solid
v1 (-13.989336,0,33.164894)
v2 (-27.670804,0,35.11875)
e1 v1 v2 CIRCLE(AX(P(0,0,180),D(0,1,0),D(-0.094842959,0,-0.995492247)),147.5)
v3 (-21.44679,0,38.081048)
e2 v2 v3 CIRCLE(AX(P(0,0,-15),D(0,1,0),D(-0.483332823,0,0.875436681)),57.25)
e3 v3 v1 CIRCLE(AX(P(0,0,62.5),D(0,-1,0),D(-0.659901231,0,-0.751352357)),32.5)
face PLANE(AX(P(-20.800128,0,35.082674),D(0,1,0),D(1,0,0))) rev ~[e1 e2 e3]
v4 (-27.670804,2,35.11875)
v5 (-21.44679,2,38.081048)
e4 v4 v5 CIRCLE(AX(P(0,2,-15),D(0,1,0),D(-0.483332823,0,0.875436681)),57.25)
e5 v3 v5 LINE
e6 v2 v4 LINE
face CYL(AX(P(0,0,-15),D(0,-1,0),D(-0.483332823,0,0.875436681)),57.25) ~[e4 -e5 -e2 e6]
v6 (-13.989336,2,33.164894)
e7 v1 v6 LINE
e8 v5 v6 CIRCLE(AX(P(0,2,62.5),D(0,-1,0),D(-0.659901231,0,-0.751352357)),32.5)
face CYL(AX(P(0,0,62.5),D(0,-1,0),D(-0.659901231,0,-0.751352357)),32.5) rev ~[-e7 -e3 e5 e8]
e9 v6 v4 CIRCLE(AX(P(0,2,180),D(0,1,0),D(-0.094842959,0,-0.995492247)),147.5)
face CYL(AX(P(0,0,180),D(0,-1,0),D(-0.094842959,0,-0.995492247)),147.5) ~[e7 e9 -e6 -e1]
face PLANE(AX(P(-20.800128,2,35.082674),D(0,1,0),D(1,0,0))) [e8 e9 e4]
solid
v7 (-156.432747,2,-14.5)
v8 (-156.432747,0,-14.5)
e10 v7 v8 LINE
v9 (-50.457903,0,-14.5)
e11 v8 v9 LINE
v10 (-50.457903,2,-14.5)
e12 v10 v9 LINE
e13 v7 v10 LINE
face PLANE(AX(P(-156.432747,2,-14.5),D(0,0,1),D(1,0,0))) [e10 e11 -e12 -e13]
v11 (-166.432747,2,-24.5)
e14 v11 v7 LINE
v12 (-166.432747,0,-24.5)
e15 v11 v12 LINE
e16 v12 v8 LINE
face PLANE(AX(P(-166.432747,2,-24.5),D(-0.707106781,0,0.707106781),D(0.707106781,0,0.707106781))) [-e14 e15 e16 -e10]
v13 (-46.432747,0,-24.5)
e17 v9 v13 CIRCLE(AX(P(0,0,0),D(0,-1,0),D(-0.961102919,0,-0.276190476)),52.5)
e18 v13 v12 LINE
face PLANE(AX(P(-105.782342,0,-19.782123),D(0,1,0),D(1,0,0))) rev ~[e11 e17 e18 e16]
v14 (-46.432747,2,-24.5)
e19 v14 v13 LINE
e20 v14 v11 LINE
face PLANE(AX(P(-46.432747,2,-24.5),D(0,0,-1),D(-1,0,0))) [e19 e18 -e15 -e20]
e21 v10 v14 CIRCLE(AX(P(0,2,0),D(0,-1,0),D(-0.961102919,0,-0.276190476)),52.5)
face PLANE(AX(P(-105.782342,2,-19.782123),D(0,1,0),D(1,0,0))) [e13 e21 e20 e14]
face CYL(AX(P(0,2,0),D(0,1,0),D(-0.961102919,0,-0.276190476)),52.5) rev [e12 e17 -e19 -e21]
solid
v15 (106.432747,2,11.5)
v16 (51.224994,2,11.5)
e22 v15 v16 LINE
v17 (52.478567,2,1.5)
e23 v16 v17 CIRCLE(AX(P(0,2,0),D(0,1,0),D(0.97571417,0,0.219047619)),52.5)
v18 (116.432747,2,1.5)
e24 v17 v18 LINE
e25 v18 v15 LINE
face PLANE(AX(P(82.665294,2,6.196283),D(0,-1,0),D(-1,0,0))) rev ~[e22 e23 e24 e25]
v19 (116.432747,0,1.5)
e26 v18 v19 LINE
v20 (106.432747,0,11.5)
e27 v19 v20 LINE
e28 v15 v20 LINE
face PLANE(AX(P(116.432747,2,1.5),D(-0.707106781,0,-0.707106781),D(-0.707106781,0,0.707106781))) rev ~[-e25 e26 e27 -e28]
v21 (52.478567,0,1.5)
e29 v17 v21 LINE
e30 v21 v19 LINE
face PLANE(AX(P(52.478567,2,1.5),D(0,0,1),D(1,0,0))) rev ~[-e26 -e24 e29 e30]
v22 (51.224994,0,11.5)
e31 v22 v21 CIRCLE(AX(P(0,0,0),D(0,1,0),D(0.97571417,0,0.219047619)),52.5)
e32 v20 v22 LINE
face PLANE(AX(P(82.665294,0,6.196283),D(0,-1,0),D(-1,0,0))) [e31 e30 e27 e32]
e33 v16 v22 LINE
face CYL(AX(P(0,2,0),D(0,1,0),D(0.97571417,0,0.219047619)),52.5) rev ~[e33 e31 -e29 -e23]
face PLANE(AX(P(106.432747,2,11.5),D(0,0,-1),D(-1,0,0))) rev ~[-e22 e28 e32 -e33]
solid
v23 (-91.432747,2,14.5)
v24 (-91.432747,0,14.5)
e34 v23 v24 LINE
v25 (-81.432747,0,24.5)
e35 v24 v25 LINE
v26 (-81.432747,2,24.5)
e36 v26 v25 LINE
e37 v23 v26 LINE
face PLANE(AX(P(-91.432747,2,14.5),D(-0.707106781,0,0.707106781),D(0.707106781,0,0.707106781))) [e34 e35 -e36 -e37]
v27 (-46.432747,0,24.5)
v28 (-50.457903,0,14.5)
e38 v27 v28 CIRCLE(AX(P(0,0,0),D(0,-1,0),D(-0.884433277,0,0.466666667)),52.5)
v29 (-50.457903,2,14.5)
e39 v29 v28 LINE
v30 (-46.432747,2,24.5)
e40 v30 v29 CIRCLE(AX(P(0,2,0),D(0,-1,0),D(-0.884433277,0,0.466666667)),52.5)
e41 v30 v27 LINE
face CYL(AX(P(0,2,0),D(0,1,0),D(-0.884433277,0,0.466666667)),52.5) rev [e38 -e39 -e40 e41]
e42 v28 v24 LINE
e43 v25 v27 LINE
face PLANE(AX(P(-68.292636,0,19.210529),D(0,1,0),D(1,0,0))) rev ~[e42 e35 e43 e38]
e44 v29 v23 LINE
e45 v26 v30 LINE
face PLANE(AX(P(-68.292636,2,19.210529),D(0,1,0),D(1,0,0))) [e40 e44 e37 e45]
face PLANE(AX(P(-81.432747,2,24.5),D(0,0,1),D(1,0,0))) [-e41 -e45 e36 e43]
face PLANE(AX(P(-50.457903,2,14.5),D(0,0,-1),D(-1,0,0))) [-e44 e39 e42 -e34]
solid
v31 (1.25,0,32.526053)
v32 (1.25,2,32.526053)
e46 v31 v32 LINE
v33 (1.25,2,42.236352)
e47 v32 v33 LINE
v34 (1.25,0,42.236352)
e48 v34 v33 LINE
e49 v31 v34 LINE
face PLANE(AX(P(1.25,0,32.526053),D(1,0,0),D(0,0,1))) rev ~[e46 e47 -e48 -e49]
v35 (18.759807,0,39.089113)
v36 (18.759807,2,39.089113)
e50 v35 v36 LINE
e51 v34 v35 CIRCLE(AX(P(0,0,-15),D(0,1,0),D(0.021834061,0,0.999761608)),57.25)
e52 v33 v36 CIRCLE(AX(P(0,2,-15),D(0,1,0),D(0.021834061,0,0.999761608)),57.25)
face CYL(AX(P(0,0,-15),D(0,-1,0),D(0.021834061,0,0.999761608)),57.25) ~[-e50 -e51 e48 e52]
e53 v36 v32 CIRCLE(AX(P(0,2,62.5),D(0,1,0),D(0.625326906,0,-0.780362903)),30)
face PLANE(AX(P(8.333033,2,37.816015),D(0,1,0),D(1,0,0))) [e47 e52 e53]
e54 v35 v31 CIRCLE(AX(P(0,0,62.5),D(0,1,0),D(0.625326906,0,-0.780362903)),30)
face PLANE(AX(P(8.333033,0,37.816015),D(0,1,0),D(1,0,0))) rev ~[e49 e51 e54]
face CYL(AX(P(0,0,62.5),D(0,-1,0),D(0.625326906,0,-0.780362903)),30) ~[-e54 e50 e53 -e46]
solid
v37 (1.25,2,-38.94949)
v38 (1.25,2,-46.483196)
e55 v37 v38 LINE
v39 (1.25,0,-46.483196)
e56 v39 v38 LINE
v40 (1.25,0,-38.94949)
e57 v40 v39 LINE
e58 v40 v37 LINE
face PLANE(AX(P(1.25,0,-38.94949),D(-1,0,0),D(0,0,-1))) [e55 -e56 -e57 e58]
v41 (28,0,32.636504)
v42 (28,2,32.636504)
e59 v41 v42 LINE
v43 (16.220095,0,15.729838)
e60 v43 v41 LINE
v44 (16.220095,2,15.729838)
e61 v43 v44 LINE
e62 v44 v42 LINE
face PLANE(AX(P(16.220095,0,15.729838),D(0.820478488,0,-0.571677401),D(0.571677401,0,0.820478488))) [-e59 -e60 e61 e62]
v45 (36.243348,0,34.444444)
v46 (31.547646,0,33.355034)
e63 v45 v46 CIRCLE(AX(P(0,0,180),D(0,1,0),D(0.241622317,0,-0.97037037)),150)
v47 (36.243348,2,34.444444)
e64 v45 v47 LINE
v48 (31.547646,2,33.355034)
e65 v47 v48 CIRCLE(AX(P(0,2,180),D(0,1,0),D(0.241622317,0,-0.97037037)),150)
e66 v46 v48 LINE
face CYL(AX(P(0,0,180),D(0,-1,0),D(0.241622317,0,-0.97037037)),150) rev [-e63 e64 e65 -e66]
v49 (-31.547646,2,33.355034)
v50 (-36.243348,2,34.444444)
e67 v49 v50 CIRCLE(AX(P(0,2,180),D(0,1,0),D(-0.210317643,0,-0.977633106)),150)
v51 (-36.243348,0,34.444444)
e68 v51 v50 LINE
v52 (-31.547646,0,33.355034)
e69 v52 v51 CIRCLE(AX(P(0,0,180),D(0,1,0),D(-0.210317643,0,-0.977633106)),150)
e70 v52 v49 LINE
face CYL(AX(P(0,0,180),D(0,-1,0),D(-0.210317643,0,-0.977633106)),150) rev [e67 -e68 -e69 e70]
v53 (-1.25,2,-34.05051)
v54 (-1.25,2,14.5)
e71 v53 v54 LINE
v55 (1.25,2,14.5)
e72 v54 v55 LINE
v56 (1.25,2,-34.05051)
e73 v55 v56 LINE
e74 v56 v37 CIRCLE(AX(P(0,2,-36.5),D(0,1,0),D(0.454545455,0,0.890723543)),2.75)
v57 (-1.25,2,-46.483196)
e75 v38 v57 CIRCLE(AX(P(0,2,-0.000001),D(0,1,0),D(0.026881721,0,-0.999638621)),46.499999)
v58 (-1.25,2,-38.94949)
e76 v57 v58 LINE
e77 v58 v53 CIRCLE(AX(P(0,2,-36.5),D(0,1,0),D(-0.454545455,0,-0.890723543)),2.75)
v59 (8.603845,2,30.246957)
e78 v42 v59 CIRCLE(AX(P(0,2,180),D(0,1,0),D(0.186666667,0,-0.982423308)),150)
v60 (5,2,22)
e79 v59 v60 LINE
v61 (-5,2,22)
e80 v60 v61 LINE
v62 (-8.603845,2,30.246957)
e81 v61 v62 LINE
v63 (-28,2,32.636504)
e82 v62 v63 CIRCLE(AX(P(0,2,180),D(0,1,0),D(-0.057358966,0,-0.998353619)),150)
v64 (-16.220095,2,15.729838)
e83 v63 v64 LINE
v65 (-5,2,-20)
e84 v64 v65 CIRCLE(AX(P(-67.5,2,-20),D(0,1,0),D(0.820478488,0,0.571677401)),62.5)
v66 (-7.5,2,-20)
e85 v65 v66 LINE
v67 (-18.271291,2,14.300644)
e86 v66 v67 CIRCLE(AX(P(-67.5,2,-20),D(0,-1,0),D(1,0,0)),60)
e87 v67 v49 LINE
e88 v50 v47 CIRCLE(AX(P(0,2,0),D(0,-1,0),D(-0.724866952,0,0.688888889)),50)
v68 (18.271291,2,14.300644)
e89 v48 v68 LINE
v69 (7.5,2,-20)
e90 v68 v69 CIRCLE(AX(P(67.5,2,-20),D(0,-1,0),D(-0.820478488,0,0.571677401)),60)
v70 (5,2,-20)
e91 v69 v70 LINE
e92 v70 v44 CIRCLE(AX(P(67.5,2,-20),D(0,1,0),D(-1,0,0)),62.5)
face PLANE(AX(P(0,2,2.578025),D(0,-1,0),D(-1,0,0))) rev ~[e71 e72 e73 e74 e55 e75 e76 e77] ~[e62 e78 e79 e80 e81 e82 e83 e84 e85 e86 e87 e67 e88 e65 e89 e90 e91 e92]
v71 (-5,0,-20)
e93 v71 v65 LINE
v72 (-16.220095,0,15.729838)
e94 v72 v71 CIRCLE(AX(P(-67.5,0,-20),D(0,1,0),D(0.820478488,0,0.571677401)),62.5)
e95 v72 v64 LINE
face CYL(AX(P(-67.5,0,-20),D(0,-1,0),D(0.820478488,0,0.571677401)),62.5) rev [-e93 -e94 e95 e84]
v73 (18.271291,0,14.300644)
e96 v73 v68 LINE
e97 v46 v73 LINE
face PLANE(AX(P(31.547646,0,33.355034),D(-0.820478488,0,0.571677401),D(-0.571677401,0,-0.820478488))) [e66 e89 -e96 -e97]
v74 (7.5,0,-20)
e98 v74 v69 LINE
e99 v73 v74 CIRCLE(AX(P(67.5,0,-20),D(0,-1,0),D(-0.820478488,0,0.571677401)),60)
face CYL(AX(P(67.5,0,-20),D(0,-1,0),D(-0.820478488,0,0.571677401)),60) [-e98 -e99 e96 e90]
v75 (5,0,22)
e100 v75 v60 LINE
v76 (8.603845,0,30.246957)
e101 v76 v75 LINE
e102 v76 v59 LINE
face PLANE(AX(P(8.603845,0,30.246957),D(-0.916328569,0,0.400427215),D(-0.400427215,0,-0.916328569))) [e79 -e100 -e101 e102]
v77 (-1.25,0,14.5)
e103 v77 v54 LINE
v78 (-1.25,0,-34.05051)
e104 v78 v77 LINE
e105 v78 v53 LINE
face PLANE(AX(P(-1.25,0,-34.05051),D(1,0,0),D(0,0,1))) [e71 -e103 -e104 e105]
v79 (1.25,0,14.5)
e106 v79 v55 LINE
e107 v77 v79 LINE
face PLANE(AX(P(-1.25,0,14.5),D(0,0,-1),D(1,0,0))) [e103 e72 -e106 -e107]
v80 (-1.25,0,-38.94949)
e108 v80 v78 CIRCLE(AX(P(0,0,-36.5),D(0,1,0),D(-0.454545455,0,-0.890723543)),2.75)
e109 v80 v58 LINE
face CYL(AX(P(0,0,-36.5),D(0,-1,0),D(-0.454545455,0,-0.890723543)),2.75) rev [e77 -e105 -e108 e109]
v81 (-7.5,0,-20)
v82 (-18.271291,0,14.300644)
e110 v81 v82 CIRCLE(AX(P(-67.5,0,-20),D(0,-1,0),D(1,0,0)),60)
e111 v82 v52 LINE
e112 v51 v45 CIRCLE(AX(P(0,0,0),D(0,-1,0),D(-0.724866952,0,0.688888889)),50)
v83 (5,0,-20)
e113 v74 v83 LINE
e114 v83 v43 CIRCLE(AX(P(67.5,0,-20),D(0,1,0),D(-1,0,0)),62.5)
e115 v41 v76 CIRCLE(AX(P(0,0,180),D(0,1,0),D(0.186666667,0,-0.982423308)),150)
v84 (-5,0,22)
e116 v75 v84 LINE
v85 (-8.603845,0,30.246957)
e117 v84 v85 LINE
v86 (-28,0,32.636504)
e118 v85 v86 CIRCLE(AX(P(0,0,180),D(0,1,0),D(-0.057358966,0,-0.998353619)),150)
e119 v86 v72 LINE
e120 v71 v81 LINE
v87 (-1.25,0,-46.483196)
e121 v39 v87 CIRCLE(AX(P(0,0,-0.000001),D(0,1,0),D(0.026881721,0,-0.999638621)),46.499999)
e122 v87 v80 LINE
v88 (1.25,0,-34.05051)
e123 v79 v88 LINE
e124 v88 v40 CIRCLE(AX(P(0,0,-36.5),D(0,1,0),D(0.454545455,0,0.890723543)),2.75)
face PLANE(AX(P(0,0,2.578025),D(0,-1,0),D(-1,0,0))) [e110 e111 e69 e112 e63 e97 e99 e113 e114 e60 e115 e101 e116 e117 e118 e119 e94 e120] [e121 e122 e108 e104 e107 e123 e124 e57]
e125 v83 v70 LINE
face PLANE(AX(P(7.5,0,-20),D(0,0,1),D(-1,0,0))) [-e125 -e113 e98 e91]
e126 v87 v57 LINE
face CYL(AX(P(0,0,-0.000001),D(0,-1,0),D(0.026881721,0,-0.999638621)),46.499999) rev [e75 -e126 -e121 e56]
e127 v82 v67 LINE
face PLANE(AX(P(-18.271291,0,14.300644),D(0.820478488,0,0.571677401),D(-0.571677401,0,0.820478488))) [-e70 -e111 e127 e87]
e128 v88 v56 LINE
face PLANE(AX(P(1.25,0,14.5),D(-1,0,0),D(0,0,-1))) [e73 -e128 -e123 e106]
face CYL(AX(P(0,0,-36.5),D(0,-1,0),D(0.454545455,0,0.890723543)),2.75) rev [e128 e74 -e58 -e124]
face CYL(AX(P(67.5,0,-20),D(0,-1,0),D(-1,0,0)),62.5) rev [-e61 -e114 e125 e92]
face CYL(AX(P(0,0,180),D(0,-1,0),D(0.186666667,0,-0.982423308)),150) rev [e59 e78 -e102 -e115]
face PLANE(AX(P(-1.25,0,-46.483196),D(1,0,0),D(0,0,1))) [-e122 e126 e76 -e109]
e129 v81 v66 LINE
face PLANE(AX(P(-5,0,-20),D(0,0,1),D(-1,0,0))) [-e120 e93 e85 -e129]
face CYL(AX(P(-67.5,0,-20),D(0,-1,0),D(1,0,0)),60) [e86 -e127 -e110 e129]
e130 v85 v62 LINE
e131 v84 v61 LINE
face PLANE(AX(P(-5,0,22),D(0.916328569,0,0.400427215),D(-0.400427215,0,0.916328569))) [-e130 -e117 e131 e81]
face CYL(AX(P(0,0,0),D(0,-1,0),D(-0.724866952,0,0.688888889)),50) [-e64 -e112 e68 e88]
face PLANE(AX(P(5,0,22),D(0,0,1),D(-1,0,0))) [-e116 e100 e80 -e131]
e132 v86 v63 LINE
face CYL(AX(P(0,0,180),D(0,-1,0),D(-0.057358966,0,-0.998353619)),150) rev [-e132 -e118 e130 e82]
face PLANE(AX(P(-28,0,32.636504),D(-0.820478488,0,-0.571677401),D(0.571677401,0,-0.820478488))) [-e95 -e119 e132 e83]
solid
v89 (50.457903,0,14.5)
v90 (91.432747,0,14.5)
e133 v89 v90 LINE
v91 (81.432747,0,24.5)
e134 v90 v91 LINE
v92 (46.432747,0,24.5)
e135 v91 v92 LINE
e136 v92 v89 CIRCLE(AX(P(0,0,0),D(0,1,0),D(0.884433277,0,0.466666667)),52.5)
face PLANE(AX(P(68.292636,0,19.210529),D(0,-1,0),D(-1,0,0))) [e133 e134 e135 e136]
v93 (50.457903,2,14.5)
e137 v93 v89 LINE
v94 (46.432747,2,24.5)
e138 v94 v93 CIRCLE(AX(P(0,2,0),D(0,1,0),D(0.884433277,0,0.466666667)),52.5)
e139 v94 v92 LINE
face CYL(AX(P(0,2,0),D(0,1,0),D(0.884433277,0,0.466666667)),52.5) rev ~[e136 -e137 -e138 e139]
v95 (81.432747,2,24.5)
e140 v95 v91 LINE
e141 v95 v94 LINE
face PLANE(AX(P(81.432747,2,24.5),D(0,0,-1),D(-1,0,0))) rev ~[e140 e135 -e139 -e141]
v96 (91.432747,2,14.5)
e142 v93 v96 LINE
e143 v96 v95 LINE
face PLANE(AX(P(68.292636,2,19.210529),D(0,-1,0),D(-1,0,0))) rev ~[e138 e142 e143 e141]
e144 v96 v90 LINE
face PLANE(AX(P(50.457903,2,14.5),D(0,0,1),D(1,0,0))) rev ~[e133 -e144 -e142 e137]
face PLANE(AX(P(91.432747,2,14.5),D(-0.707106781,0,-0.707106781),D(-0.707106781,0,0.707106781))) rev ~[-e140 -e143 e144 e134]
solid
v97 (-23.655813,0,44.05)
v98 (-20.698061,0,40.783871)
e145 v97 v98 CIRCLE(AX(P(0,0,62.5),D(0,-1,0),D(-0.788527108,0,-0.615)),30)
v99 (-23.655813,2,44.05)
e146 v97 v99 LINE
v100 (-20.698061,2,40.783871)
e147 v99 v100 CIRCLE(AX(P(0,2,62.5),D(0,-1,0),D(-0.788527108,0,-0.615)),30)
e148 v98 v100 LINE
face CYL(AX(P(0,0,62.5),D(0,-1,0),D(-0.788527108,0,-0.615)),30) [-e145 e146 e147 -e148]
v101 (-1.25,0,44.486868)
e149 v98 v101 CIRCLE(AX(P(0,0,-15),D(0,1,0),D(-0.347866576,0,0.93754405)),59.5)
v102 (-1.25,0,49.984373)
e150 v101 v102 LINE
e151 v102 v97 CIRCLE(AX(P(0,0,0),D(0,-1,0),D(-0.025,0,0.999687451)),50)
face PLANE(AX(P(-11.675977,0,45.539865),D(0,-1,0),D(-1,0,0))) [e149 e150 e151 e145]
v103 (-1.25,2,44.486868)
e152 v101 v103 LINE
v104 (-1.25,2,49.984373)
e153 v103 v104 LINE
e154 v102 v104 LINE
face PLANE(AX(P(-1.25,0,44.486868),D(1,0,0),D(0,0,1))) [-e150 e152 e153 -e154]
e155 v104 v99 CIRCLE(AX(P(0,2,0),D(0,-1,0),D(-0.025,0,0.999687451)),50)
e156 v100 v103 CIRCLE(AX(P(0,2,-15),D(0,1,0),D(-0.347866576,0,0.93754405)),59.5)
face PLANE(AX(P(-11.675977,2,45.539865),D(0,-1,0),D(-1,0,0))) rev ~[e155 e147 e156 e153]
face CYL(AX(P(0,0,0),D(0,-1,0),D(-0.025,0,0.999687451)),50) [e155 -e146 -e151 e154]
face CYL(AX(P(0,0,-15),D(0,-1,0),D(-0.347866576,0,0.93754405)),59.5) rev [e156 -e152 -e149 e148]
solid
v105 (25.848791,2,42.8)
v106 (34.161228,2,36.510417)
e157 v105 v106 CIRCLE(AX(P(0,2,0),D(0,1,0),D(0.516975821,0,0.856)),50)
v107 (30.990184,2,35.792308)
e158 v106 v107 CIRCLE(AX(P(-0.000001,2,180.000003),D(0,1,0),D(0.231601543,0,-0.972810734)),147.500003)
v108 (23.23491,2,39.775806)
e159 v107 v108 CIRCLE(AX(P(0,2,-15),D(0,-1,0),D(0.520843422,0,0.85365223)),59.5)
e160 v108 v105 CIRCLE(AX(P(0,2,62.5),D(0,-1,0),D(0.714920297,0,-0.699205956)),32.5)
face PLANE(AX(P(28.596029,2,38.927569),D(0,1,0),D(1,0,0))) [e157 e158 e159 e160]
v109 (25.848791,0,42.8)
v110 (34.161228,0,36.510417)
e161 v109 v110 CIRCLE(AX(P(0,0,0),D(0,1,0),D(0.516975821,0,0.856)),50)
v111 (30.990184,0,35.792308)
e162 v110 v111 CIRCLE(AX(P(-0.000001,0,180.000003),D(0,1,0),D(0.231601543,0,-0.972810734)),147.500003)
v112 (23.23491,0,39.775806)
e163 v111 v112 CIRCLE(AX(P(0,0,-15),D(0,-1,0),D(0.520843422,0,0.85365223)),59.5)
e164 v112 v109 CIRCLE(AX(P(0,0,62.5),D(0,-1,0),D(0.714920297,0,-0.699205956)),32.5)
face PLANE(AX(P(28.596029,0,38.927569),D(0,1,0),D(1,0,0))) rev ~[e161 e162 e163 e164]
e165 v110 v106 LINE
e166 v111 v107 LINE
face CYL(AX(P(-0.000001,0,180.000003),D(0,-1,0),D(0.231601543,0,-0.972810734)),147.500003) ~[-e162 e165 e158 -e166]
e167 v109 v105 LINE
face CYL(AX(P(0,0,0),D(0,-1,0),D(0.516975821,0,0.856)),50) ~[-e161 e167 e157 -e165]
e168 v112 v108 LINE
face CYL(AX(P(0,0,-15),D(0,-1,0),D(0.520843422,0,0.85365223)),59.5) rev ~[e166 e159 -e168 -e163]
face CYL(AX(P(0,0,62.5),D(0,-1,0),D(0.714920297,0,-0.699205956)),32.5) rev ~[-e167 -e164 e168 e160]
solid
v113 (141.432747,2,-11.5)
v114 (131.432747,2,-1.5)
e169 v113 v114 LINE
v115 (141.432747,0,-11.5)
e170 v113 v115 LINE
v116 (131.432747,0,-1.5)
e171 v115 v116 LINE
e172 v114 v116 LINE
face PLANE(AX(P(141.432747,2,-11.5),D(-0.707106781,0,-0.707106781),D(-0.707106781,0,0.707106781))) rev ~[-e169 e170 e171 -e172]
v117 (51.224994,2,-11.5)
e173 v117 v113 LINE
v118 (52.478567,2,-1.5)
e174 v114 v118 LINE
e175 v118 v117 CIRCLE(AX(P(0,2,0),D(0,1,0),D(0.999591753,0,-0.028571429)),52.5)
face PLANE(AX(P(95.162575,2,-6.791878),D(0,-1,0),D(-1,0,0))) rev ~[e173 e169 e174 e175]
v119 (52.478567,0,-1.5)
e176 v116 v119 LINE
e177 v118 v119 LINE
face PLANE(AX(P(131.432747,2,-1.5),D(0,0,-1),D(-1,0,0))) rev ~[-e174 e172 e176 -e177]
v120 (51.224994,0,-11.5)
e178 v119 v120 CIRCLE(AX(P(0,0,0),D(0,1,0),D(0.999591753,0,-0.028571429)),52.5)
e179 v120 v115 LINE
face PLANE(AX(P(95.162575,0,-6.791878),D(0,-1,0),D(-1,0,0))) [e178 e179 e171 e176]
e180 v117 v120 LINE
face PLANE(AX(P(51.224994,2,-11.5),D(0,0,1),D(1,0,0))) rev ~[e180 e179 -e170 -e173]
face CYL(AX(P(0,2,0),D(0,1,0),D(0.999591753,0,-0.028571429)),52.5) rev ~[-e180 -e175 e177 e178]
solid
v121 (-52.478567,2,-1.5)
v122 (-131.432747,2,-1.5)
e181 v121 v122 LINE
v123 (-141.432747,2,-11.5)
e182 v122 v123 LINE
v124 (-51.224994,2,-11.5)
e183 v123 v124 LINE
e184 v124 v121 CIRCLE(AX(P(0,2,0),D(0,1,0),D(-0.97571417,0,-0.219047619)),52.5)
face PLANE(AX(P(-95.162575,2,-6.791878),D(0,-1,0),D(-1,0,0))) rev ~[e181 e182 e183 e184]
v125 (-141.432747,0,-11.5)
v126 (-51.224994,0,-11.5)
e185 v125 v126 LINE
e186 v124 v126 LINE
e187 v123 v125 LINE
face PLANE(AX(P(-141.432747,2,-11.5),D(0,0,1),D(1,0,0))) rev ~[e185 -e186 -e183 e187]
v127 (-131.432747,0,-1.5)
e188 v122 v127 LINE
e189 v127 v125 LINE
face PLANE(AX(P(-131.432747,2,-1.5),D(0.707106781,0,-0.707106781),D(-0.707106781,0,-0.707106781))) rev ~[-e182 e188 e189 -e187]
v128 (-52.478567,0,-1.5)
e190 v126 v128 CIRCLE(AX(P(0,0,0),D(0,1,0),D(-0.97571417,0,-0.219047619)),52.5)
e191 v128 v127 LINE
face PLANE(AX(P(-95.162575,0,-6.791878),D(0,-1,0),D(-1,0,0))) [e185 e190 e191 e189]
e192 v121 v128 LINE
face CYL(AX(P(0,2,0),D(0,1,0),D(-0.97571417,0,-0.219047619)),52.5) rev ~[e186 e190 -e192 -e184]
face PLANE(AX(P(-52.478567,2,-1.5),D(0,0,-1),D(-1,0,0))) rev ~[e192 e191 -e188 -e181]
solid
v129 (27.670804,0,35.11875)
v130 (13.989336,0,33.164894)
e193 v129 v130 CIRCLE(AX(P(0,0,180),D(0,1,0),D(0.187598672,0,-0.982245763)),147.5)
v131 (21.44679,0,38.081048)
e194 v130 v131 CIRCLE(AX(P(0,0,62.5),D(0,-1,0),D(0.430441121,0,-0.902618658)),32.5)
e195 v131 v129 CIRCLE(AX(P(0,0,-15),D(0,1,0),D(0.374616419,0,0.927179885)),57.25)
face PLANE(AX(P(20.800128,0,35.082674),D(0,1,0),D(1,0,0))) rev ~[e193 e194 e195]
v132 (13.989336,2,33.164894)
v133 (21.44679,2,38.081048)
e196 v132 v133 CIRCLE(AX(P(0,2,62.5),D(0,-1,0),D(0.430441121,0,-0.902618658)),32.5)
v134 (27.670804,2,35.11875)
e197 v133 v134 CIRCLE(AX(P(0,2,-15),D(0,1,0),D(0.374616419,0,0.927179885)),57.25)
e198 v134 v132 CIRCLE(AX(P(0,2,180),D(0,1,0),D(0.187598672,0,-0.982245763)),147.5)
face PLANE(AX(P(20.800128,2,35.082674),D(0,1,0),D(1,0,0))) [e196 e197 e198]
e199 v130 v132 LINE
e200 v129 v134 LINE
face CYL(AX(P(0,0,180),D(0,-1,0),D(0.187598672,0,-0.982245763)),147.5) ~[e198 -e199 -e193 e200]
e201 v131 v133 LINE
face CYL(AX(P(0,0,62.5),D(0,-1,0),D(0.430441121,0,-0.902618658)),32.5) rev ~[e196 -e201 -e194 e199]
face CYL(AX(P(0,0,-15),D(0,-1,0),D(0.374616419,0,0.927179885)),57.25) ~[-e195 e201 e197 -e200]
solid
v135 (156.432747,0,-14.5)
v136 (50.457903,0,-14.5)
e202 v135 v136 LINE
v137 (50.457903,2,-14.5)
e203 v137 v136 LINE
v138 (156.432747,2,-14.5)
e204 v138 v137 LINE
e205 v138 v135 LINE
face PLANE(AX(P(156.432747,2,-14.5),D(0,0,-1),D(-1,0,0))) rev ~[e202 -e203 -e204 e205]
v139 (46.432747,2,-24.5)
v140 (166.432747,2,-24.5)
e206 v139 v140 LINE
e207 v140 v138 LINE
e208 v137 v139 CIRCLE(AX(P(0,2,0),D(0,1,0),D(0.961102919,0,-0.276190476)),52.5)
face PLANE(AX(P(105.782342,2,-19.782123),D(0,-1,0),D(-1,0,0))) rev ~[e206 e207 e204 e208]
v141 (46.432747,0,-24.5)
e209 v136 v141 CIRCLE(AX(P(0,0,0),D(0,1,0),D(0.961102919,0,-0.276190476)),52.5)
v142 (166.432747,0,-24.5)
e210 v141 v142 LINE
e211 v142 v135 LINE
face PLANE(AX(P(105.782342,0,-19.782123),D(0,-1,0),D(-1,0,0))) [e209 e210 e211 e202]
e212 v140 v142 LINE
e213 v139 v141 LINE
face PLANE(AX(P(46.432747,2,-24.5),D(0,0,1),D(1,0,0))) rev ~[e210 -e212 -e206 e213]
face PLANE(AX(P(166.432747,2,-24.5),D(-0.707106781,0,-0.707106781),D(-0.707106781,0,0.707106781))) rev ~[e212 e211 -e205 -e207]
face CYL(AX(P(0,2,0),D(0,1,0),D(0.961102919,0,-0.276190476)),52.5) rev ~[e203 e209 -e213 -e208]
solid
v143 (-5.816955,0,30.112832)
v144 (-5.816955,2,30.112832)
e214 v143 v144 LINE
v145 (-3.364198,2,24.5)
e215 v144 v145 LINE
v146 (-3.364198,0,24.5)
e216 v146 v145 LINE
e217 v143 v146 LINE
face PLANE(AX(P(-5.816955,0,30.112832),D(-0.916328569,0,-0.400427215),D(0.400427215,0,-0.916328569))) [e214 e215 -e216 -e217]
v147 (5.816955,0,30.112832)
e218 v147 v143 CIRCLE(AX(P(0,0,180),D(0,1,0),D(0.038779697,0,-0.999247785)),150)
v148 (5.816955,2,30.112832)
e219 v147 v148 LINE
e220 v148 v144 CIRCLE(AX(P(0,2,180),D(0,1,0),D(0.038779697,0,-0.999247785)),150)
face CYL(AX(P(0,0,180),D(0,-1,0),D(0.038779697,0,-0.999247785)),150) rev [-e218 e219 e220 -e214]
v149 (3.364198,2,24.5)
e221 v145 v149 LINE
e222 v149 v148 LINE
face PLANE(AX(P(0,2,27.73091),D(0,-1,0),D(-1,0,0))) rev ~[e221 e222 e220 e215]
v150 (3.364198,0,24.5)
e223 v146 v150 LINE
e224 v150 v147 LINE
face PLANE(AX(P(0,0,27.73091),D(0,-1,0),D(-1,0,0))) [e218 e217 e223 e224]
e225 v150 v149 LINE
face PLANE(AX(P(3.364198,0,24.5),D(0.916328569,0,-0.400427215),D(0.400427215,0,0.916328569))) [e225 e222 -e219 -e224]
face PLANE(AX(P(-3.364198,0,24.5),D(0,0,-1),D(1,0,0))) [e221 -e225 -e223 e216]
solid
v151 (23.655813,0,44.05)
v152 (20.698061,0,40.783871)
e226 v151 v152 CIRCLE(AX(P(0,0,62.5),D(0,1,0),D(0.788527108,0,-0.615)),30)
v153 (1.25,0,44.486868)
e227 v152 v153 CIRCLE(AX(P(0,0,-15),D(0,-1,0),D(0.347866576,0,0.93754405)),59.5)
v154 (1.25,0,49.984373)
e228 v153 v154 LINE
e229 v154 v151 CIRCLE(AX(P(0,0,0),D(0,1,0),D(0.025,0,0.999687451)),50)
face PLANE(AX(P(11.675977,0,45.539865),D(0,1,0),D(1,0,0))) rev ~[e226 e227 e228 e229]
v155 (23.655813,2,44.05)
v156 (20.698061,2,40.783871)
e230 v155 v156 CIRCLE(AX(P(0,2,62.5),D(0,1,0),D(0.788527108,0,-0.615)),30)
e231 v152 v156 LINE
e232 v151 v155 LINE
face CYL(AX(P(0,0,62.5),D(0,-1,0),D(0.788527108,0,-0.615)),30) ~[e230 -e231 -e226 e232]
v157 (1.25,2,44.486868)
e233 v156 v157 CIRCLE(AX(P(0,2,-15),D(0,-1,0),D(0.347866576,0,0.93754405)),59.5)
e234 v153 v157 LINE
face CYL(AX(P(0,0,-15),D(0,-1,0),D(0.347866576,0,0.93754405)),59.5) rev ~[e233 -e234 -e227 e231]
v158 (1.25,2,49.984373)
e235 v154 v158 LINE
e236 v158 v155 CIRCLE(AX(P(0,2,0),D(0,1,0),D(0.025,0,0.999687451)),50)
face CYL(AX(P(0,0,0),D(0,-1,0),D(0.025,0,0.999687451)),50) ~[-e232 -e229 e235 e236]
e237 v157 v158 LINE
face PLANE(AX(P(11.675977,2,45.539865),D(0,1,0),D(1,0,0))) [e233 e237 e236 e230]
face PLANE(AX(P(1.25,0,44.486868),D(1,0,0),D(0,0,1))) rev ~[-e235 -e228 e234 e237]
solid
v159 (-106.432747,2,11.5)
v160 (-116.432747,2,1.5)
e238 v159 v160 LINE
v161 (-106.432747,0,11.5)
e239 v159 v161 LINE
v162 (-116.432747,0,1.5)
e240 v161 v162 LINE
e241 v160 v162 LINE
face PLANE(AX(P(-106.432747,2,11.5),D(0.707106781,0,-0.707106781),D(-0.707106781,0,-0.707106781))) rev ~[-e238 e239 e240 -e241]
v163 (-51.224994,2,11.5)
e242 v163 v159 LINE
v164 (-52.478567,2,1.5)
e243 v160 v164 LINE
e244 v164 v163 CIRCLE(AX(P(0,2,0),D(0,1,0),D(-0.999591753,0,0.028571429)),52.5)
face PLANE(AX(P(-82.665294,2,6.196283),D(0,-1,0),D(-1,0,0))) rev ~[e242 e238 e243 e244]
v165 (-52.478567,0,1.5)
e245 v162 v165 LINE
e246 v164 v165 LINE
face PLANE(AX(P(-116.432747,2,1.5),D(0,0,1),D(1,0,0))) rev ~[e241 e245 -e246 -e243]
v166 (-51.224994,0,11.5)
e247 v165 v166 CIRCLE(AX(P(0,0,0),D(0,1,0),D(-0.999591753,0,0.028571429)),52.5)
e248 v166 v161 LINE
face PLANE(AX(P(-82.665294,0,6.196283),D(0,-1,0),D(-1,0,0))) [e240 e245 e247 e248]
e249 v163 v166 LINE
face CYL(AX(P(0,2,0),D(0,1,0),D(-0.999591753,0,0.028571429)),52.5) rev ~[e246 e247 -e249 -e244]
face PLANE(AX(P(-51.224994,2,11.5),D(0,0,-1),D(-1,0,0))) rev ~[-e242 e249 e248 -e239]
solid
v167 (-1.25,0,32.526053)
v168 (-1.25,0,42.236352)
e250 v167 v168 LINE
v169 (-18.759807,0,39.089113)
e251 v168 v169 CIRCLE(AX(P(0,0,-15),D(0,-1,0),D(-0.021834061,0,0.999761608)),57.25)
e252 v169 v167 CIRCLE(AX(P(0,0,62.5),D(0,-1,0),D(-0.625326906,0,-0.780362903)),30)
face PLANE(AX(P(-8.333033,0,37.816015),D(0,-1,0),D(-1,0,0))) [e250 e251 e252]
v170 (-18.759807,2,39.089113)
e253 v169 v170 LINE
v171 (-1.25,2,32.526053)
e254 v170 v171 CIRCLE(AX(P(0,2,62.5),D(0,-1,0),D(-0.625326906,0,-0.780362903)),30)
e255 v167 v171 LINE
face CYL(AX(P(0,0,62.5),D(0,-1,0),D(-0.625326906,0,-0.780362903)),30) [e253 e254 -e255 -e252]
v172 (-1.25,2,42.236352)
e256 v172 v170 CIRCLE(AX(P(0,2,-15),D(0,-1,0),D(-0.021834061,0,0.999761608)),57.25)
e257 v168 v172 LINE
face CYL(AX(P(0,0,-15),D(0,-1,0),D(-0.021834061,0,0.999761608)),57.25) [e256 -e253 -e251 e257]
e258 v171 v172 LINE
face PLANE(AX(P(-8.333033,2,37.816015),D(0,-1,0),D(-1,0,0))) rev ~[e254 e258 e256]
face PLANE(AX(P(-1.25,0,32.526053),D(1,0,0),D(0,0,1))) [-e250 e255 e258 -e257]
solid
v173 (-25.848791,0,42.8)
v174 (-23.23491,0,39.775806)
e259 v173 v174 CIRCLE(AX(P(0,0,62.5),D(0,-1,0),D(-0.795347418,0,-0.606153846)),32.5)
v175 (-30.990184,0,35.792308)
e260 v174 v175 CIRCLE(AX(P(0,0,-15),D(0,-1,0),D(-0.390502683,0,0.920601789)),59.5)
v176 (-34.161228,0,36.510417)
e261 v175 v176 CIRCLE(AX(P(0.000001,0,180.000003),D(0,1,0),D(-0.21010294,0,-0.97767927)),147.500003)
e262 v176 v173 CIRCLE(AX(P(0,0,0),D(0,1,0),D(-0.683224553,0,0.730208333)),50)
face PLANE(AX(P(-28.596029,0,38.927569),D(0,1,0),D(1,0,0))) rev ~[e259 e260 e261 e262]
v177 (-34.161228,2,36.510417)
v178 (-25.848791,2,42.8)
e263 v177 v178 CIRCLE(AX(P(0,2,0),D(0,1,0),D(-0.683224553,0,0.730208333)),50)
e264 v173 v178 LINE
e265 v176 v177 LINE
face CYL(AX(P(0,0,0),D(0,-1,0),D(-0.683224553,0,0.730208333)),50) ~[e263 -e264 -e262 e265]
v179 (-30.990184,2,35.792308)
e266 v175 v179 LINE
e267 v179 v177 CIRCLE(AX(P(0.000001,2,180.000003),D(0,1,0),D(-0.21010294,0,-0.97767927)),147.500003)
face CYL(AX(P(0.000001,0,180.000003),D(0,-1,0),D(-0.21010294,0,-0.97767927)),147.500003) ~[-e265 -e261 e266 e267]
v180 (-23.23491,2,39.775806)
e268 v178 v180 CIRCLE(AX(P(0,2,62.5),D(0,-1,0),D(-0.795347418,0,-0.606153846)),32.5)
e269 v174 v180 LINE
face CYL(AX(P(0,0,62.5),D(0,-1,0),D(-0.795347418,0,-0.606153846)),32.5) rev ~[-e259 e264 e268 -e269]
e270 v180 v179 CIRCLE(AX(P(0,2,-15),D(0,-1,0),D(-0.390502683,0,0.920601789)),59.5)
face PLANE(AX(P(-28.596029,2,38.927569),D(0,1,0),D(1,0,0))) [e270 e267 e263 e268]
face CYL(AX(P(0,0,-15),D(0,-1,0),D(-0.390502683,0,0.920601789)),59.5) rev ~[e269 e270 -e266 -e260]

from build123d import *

# Parameters (mm, degrees)
EXTRUDE_2_DEPTH    = 2
EXTRUDE_2_2_DEPTH  = 2
EXTRUDE_2_3_DEPTH  = 2
EXTRUDE_2_4_DEPTH  = 2
EXTRUDE_2_5_DEPTH  = 2
EXTRUDE_2_6_DEPTH  = 2
EXTRUDE_2_7_DEPTH  = 2
EXTRUDE_2_8_DEPTH  = 2
EXTRUDE_2_9_DEPTH  = 2
EXTRUDE_2_10_DEPTH = 2
EXTRUDE_3_DEPTH    = 2
EXTRUDE_3_2_DEPTH  = 2
EXTRUDE_3_3_DEPTH  = 2
EXTRUDE_3_4_DEPTH  = 2
EXTRUDE_3_5_DEPTH  = 2
EXTRUDE_3_6_DEPTH  = 2
EXTRUDE_3_7_DEPTH  = 2
EXTRUDE_3_8_DEPTH  = 2


with BuildPart() as part:
    # 草图1 → 凸台-拉伸2 (new body)
    with BuildSketch(Plane(origin=(0, 0, 0), x_dir=(1, 0, 0), z_dir=(0, 1, 0))):
        with BuildLine():
            Line((5, -22), (-5, -22))
            Line((-5, -22), (-8.603844932, -30.246957118))
            ThreePointArc((-8.603844932, -30.246957118), (-18.340879186, -31.125515448), (-28, -32.636503842))
            Line((-28, -32.636503842), (-16.220094524, -15.729837593))
            ThreePointArc((-16.220094524, -15.729837593), (-7.870963062, 1.274937814), (-5, 20))
            Line((-5, 20), (-7.5, 20))
            ThreePointArc((-7.5, 20), (-10.25612454, 2.023940301), (-18.271290743, -14.300644089))
            Line((-18.271290743, -14.300644089), (-31.547646388, -33.355034156))
            ThreePointArc((-31.547646388, -33.355034156), (-33.899873465, -33.880875382), (-36.243347623, -34.444444444))
            ThreePointArc((-36.243347623, -34.444444444), (0, 50), (36.243347623, -34.444444444))
            ThreePointArc((36.243347623, -34.444444444), (33.899873465, -33.880875382), (31.547646388, -33.355034156))
            Line((31.547646388, -33.355034156), (18.271290743, -14.300644089))
            ThreePointArc((18.271290743, -14.300644089), (10.25612454, 2.023940301), (7.5, 20))
            Line((7.5, 20), (5, 20))
            ThreePointArc((5, 20), (7.870963062, 1.274937814), (16.220094524, -15.729837593))
            Line((16.220094524, -15.729837593), (28, -32.636503842))
            ThreePointArc((28, -32.636503842), (18.340879186, -31.125515448), (8.603844932, -30.246957118))
            Line((8.603844932, -30.246957118), (5, -22))
        make_face()
        with BuildLine():
            Line((-1.25, 46.483195888), (-1.25, 38.949489743))
            ThreePointArc((-1.25, 38.949489743), (-2.75, 36.5), (-1.25, 34.050510257))
            Line((-1.25, 34.050510257), (-1.25, -14.5))
            Line((-1.25, -14.5), (1.25, -14.5))
            Line((1.25, -14.5), (1.25, 34.050510257))
            ThreePointArc((1.25, 34.050510257), (2.75, 36.5), (1.25, 38.949489743))
            Line((1.25, 38.949489743), (1.25, 46.483195888))
            ThreePointArc((1.25, 46.483195888), (0, 46.5), (-1.25, 46.483195888))
        make_face(mode=Mode.SUBTRACT)
    extrude(amount=EXTRUDE_2_DEPTH)


with BuildPart() as body_2:
    # 草图1 → Extrude 2 2 (new body)
    with BuildSketch(Plane(origin=(0, 0, 0), x_dir=(1, 0, 0), z_dir=(0, 1, 0))):
        with BuildLine():
            Line((3.364198155, -24.5), (5.816954605, -30.112832307))
            ThreePointArc((5.816954605, -30.112832307), (0, -30), (-5.816954605, -30.112832307))
            Line((-5.816954605, -30.112832307), (-3.364198155, -24.5))
            Line((-3.364198155, -24.5), (3.364198155, -24.5))
        make_face()
    extrude(amount=EXTRUDE_2_2_DEPTH)


with BuildPart() as body_3:
    # 草图1 → Extrude 2 3 (new body)
    with BuildSketch(Plane(origin=(0, 0, 0), x_dir=(1, 0, 0), z_dir=(0, 1, 0))):
        with BuildLine():
            Line((-1.25, -32.526052979), (-1.25, -42.236352085))
            ThreePointArc((-1.25, -42.236352085), (-10.127900791, -41.347032979), (-18.759807178, -39.089112903))
            ThreePointArc((-18.759807178, -39.089112903), (-10.529317866, -34.408480545), (-1.25, -32.526052979))
        make_face()
    extrude(amount=EXTRUDE_2_3_DEPTH)


with BuildPart() as body_4:
    # 草图1 → Extrude 2 4 (new body)
    with BuildSketch(Plane(origin=(0, 0, 0), x_dir=(1, 0, 0), z_dir=(0, 1, 0))):
        with BuildLine():
            Line((1.25, -32.526052979), (1.25, -42.236352085))
            ThreePointArc((1.25, -42.236352085), (10.127900791, -41.347032979), (18.759807178, -39.089112903))
            ThreePointArc((18.759807178, -39.089112903), (10.529317866, -34.408480545), (1.25, -32.526052979))
        make_face()
    extrude(amount=EXTRUDE_2_4_DEPTH)


with BuildPart() as body_5:
    # 草图1 → Extrude 2 5 (new body)
    with BuildSketch(Plane(origin=(0, 0, 0), x_dir=(1, 0, 0), z_dir=(0, 1, 0))):
        with BuildLine():
            Line((1.25, -44.486868299), (1.25, -49.984372558))
            ThreePointArc((1.25, -49.984372558), (12.801526381, -48.333434828), (23.655813239, -44.05))
            ThreePointArc((23.655813239, -44.05), (22.236983731, -42.362558391), (20.698061258, -40.783870968))
            ThreePointArc((20.698061258, -40.783870968), (11.129123755, -43.44991535), (1.25, -44.486868299))
        make_face()
    extrude(amount=EXTRUDE_2_5_DEPTH)


with BuildPart() as body_6:
    # 草图1 → Extrude 2 6 (new body)
    with BuildSketch(Plane(origin=(0, 0, 0), x_dir=(1, 0, 0), z_dir=(0, 1, 0))):
        with BuildLine():
            Line((-1.25, -44.486868299), (-1.25, -49.984372558))
            ThreePointArc((-1.25, -49.984372558), (-12.801526381, -48.333434828), (-23.655813239, -44.05))
            ThreePointArc((-23.655813239, -44.05), (-22.236983731, -42.362558391), (-20.698061258, -40.783870968))
            ThreePointArc((-20.698061258, -40.783870968), (-11.129123755, -43.44991535), (-1.25, -44.486868299))
        make_face()
    extrude(amount=EXTRUDE_2_6_DEPTH)


with BuildPart() as body_7:
    # 草图1 → Extrude 2 7 (new body)
    with BuildSketch(Plane(origin=(0, 0, 0), x_dir=(1, 0, 0), z_dir=(0, 1, 0))):
        with BuildLine():
            ThreePointArc((-34.161227654, -36.510416667), (-30.169360311, -39.872417765), (-25.848791074, -42.8))
            ThreePointArc((-25.848791074, -42.8), (-24.588388651, -41.247679102), (-23.234909674, -39.775806452))
            ThreePointArc((-23.234909674, -39.775806452), (-27.185607417, -37.926295444), (-30.990183596, -35.792307692))
            ThreePointArc((-30.990183596, -35.792307692), (-32.577684342, -36.14262451), (-34.161227654, -36.510416667))
        make_face()
    extrude(amount=EXTRUDE_2_7_DEPTH)


with BuildPart() as body_8:
    # 草图1 → Extrude 2 8 (new body)
    with BuildSketch(Plane(origin=(0, 0, 0), x_dir=(1, 0, 0), z_dir=(0, 1, 0))):
        with BuildLine():
            ThreePointArc((34.161227654, -36.510416667), (32.577684342, -36.14262451), (30.990183596, -35.792307692))
            ThreePointArc((30.990183596, -35.792307692), (27.185607417, -37.926295444), (23.234909674, -39.775806452))
            ThreePointArc((23.234909674, -39.775806452), (24.588388651, -41.247679102), (25.848791074, -42.8))
            ThreePointArc((25.848791074, -42.8), (30.169360311, -39.872417765), (34.161227654, -36.510416667))
        make_face()
    extrude(amount=EXTRUDE_2_8_DEPTH)


with BuildPart() as body_9:
    # 草图1 → Extrude 2 9 (new body)
    with BuildSketch(Plane(origin=(0, 0, 0), x_dir=(1, 0, 0), z_dir=(0, 1, 0))):
        with BuildLine():
            ThreePointArc((-13.989336421, -33.164893617), (-20.852966584, -33.981495061), (-27.67080408, -35.11875))
            ThreePointArc((-27.67080408, -35.11875), (-24.603420808, -36.693657102), (-21.446790019, -38.081048387))
            ThreePointArc((-21.446790019, -38.081048387), (-17.887758627, -35.365555261), (-13.989336421, -33.164893617))
        make_face()
    extrude(amount=EXTRUDE_2_9_DEPTH)


with BuildPart() as body_10:
    # 草图1 → Extrude 2 10 (new body)
    with BuildSketch(Plane(origin=(0, 0, 0), x_dir=(1, 0, 0), z_dir=(0, 1, 0))):
        with BuildLine():
            ThreePointArc((27.67080408, -35.11875), (20.852966584, -33.981495061), (13.989336421, -33.164893617))
            ThreePointArc((13.989336421, -33.164893617), (17.887758627, -35.365555261), (21.446790019, -38.081048387))
            ThreePointArc((21.446790019, -38.081048387), (24.603420808, -36.693657102), (27.67080408, -35.11875))
        make_face()
    extrude(amount=EXTRUDE_2_10_DEPTH)


with BuildPart() as body_11:
    # 草图2 → 凸台-拉伸3 (new body)
    with BuildSketch(Plane(origin=(0, 2, 0), x_dir=(1, 0, 0), z_dir=(0, 1, 0))):
        with BuildLine():
            Line((141.432747065, 11.5), (131.432747065, 1.5))
            Line((131.432747065, 1.5), (52.478567054, 1.5))
            ThreePointArc((52.478567054, 1.5), (52.092294426, 6.530150183), (51.224993899, 11.5))
            Line((51.224993899, 11.5), (141.432747065, 11.5))
        make_face()
    extrude(amount=-EXTRUDE_3_DEPTH)


with BuildPart() as body_12:
    # 草图2 → Extrude 3 2 (new body)
    with BuildSketch(Plane(origin=(0, 2, 0), x_dir=(1, 0, 0), z_dir=(0, 1, 0))):
        with BuildLine():
            Line((-156.432747065, 14.5), (-50.457903246, 14.5))
            ThreePointArc((-50.457903246, 14.5), (-48.7026645, 19.603583105), (-46.432747065, 24.5))
            Line((-46.432747065, 24.5), (-166.432747065, 24.5))
            Line((-166.432747065, 24.5), (-156.432747065, 14.5))
        make_face()
    extrude(amount=-EXTRUDE_3_2_DEPTH)


with BuildPart() as body_13:
    # 草图2 → Extrude 3 3 (new body)
    with BuildSketch(Plane(origin=(0, 2, 0), x_dir=(1, 0, 0), z_dir=(0, 1, 0))):
        with BuildLine():
            Line((116.432747065, -1.5), (106.432747065, -11.5))
            Line((106.432747065, -11.5), (51.224993899, -11.5))
            ThreePointArc((51.224993899, -11.5), (52.092294426, -6.530150183), (52.478567054, -1.5))
            Line((52.478567054, -1.5), (116.432747065, -1.5))
        make_face()
    extrude(amount=-EXTRUDE_3_3_DEPTH)


with BuildPart() as body_14:
    # 草图2 → Extrude 3 4 (new body)
    with BuildSketch(Plane(origin=(0, 2, 0), x_dir=(1, 0, 0), z_dir=(0, 1, 0))):
        with BuildLine():
            Line((91.432747065, -14.5), (81.432747065, -24.5))
            Line((81.432747065, -24.5), (46.432747065, -24.5))
            ThreePointArc((46.432747065, -24.5), (48.7026645, -19.603583105), (50.457903246, -14.5))
            Line((50.457903246, -14.5), (91.432747065, -14.5))
        make_face()
    extrude(amount=-EXTRUDE_3_4_DEPTH)


with BuildPart() as body_15:
    # 草图2 → Extrude 3 5 (new body)
    with BuildSketch(Plane(origin=(0, 2, 0), x_dir=(1, 0, 0), z_dir=(0, 1, 0))):
        with BuildLine():
            Line((166.432747065, 24.5), (156.432747065, 14.5))
            Line((156.432747065, 14.5), (50.457903246, 14.5))
            ThreePointArc((50.457903246, 14.5), (48.7026645, 19.603583105), (46.432747065, 24.5))
            Line((46.432747065, 24.5), (166.432747065, 24.5))
        make_face()
    extrude(amount=-EXTRUDE_3_5_DEPTH)


with BuildPart() as body_16:
    # 草图2 → Extrude 3 6 (new body)
    with BuildSketch(Plane(origin=(0, 2, 0), x_dir=(1, 0, 0), z_dir=(0, 1, 0))):
        with BuildLine():
            Line((-81.432747065, -24.5), (-46.432747065, -24.5))
            ThreePointArc((-46.432747065, -24.5), (-48.7026645, -19.603583105), (-50.457903246, -14.5))
            Line((-50.457903246, -14.5), (-91.432747065, -14.5))
            Line((-91.432747065, -14.5), (-81.432747065, -24.5))
        make_face()
    extrude(amount=-EXTRUDE_3_6_DEPTH)


with BuildPart() as body_17:
    # 草图2 → Extrude 3 7 (new body)
    with BuildSketch(Plane(origin=(0, 2, 0), x_dir=(1, 0, 0), z_dir=(0, 1, 0))):
        with BuildLine():
            Line((-116.432747065, -1.5), (-52.478567054, -1.5))
            ThreePointArc((-52.478567054, -1.5), (-52.092294426, -6.530150183), (-51.224993899, -11.5))
            Line((-51.224993899, -11.5), (-106.432747065, -11.5))
            Line((-106.432747065, -11.5), (-116.432747065, -1.5))
        make_face()
    extrude(amount=-EXTRUDE_3_7_DEPTH)


with BuildPart() as body_18:
    # 草图2 → Extrude 3 8 (new body)
    with BuildSketch(Plane(origin=(0, 2, 0), x_dir=(1, 0, 0), z_dir=(0, 1, 0))):
        with BuildLine():
            Line((-141.432747065, 11.5), (-51.224993899, 11.5))
            ThreePointArc((-51.224993899, 11.5), (-52.092294426, 6.530150183), (-52.478567054, 1.5))
            Line((-52.478567054, 1.5), (-131.432747065, 1.5))
            Line((-131.432747065, 1.5), (-141.432747065, 11.5))
        make_face()
    extrude(amount=-EXTRUDE_3_8_DEPTH)


solid = Compound([part.part, body_2.part, body_3.part, body_4.part, body_5.part, body_6.part, body_7.part, body_8.part, body_9.part, body_10.part, body_11.part, body_12.part, body_13.part, body_14.part, body_15.part, body_16.part, body_17.part, body_18.part])
